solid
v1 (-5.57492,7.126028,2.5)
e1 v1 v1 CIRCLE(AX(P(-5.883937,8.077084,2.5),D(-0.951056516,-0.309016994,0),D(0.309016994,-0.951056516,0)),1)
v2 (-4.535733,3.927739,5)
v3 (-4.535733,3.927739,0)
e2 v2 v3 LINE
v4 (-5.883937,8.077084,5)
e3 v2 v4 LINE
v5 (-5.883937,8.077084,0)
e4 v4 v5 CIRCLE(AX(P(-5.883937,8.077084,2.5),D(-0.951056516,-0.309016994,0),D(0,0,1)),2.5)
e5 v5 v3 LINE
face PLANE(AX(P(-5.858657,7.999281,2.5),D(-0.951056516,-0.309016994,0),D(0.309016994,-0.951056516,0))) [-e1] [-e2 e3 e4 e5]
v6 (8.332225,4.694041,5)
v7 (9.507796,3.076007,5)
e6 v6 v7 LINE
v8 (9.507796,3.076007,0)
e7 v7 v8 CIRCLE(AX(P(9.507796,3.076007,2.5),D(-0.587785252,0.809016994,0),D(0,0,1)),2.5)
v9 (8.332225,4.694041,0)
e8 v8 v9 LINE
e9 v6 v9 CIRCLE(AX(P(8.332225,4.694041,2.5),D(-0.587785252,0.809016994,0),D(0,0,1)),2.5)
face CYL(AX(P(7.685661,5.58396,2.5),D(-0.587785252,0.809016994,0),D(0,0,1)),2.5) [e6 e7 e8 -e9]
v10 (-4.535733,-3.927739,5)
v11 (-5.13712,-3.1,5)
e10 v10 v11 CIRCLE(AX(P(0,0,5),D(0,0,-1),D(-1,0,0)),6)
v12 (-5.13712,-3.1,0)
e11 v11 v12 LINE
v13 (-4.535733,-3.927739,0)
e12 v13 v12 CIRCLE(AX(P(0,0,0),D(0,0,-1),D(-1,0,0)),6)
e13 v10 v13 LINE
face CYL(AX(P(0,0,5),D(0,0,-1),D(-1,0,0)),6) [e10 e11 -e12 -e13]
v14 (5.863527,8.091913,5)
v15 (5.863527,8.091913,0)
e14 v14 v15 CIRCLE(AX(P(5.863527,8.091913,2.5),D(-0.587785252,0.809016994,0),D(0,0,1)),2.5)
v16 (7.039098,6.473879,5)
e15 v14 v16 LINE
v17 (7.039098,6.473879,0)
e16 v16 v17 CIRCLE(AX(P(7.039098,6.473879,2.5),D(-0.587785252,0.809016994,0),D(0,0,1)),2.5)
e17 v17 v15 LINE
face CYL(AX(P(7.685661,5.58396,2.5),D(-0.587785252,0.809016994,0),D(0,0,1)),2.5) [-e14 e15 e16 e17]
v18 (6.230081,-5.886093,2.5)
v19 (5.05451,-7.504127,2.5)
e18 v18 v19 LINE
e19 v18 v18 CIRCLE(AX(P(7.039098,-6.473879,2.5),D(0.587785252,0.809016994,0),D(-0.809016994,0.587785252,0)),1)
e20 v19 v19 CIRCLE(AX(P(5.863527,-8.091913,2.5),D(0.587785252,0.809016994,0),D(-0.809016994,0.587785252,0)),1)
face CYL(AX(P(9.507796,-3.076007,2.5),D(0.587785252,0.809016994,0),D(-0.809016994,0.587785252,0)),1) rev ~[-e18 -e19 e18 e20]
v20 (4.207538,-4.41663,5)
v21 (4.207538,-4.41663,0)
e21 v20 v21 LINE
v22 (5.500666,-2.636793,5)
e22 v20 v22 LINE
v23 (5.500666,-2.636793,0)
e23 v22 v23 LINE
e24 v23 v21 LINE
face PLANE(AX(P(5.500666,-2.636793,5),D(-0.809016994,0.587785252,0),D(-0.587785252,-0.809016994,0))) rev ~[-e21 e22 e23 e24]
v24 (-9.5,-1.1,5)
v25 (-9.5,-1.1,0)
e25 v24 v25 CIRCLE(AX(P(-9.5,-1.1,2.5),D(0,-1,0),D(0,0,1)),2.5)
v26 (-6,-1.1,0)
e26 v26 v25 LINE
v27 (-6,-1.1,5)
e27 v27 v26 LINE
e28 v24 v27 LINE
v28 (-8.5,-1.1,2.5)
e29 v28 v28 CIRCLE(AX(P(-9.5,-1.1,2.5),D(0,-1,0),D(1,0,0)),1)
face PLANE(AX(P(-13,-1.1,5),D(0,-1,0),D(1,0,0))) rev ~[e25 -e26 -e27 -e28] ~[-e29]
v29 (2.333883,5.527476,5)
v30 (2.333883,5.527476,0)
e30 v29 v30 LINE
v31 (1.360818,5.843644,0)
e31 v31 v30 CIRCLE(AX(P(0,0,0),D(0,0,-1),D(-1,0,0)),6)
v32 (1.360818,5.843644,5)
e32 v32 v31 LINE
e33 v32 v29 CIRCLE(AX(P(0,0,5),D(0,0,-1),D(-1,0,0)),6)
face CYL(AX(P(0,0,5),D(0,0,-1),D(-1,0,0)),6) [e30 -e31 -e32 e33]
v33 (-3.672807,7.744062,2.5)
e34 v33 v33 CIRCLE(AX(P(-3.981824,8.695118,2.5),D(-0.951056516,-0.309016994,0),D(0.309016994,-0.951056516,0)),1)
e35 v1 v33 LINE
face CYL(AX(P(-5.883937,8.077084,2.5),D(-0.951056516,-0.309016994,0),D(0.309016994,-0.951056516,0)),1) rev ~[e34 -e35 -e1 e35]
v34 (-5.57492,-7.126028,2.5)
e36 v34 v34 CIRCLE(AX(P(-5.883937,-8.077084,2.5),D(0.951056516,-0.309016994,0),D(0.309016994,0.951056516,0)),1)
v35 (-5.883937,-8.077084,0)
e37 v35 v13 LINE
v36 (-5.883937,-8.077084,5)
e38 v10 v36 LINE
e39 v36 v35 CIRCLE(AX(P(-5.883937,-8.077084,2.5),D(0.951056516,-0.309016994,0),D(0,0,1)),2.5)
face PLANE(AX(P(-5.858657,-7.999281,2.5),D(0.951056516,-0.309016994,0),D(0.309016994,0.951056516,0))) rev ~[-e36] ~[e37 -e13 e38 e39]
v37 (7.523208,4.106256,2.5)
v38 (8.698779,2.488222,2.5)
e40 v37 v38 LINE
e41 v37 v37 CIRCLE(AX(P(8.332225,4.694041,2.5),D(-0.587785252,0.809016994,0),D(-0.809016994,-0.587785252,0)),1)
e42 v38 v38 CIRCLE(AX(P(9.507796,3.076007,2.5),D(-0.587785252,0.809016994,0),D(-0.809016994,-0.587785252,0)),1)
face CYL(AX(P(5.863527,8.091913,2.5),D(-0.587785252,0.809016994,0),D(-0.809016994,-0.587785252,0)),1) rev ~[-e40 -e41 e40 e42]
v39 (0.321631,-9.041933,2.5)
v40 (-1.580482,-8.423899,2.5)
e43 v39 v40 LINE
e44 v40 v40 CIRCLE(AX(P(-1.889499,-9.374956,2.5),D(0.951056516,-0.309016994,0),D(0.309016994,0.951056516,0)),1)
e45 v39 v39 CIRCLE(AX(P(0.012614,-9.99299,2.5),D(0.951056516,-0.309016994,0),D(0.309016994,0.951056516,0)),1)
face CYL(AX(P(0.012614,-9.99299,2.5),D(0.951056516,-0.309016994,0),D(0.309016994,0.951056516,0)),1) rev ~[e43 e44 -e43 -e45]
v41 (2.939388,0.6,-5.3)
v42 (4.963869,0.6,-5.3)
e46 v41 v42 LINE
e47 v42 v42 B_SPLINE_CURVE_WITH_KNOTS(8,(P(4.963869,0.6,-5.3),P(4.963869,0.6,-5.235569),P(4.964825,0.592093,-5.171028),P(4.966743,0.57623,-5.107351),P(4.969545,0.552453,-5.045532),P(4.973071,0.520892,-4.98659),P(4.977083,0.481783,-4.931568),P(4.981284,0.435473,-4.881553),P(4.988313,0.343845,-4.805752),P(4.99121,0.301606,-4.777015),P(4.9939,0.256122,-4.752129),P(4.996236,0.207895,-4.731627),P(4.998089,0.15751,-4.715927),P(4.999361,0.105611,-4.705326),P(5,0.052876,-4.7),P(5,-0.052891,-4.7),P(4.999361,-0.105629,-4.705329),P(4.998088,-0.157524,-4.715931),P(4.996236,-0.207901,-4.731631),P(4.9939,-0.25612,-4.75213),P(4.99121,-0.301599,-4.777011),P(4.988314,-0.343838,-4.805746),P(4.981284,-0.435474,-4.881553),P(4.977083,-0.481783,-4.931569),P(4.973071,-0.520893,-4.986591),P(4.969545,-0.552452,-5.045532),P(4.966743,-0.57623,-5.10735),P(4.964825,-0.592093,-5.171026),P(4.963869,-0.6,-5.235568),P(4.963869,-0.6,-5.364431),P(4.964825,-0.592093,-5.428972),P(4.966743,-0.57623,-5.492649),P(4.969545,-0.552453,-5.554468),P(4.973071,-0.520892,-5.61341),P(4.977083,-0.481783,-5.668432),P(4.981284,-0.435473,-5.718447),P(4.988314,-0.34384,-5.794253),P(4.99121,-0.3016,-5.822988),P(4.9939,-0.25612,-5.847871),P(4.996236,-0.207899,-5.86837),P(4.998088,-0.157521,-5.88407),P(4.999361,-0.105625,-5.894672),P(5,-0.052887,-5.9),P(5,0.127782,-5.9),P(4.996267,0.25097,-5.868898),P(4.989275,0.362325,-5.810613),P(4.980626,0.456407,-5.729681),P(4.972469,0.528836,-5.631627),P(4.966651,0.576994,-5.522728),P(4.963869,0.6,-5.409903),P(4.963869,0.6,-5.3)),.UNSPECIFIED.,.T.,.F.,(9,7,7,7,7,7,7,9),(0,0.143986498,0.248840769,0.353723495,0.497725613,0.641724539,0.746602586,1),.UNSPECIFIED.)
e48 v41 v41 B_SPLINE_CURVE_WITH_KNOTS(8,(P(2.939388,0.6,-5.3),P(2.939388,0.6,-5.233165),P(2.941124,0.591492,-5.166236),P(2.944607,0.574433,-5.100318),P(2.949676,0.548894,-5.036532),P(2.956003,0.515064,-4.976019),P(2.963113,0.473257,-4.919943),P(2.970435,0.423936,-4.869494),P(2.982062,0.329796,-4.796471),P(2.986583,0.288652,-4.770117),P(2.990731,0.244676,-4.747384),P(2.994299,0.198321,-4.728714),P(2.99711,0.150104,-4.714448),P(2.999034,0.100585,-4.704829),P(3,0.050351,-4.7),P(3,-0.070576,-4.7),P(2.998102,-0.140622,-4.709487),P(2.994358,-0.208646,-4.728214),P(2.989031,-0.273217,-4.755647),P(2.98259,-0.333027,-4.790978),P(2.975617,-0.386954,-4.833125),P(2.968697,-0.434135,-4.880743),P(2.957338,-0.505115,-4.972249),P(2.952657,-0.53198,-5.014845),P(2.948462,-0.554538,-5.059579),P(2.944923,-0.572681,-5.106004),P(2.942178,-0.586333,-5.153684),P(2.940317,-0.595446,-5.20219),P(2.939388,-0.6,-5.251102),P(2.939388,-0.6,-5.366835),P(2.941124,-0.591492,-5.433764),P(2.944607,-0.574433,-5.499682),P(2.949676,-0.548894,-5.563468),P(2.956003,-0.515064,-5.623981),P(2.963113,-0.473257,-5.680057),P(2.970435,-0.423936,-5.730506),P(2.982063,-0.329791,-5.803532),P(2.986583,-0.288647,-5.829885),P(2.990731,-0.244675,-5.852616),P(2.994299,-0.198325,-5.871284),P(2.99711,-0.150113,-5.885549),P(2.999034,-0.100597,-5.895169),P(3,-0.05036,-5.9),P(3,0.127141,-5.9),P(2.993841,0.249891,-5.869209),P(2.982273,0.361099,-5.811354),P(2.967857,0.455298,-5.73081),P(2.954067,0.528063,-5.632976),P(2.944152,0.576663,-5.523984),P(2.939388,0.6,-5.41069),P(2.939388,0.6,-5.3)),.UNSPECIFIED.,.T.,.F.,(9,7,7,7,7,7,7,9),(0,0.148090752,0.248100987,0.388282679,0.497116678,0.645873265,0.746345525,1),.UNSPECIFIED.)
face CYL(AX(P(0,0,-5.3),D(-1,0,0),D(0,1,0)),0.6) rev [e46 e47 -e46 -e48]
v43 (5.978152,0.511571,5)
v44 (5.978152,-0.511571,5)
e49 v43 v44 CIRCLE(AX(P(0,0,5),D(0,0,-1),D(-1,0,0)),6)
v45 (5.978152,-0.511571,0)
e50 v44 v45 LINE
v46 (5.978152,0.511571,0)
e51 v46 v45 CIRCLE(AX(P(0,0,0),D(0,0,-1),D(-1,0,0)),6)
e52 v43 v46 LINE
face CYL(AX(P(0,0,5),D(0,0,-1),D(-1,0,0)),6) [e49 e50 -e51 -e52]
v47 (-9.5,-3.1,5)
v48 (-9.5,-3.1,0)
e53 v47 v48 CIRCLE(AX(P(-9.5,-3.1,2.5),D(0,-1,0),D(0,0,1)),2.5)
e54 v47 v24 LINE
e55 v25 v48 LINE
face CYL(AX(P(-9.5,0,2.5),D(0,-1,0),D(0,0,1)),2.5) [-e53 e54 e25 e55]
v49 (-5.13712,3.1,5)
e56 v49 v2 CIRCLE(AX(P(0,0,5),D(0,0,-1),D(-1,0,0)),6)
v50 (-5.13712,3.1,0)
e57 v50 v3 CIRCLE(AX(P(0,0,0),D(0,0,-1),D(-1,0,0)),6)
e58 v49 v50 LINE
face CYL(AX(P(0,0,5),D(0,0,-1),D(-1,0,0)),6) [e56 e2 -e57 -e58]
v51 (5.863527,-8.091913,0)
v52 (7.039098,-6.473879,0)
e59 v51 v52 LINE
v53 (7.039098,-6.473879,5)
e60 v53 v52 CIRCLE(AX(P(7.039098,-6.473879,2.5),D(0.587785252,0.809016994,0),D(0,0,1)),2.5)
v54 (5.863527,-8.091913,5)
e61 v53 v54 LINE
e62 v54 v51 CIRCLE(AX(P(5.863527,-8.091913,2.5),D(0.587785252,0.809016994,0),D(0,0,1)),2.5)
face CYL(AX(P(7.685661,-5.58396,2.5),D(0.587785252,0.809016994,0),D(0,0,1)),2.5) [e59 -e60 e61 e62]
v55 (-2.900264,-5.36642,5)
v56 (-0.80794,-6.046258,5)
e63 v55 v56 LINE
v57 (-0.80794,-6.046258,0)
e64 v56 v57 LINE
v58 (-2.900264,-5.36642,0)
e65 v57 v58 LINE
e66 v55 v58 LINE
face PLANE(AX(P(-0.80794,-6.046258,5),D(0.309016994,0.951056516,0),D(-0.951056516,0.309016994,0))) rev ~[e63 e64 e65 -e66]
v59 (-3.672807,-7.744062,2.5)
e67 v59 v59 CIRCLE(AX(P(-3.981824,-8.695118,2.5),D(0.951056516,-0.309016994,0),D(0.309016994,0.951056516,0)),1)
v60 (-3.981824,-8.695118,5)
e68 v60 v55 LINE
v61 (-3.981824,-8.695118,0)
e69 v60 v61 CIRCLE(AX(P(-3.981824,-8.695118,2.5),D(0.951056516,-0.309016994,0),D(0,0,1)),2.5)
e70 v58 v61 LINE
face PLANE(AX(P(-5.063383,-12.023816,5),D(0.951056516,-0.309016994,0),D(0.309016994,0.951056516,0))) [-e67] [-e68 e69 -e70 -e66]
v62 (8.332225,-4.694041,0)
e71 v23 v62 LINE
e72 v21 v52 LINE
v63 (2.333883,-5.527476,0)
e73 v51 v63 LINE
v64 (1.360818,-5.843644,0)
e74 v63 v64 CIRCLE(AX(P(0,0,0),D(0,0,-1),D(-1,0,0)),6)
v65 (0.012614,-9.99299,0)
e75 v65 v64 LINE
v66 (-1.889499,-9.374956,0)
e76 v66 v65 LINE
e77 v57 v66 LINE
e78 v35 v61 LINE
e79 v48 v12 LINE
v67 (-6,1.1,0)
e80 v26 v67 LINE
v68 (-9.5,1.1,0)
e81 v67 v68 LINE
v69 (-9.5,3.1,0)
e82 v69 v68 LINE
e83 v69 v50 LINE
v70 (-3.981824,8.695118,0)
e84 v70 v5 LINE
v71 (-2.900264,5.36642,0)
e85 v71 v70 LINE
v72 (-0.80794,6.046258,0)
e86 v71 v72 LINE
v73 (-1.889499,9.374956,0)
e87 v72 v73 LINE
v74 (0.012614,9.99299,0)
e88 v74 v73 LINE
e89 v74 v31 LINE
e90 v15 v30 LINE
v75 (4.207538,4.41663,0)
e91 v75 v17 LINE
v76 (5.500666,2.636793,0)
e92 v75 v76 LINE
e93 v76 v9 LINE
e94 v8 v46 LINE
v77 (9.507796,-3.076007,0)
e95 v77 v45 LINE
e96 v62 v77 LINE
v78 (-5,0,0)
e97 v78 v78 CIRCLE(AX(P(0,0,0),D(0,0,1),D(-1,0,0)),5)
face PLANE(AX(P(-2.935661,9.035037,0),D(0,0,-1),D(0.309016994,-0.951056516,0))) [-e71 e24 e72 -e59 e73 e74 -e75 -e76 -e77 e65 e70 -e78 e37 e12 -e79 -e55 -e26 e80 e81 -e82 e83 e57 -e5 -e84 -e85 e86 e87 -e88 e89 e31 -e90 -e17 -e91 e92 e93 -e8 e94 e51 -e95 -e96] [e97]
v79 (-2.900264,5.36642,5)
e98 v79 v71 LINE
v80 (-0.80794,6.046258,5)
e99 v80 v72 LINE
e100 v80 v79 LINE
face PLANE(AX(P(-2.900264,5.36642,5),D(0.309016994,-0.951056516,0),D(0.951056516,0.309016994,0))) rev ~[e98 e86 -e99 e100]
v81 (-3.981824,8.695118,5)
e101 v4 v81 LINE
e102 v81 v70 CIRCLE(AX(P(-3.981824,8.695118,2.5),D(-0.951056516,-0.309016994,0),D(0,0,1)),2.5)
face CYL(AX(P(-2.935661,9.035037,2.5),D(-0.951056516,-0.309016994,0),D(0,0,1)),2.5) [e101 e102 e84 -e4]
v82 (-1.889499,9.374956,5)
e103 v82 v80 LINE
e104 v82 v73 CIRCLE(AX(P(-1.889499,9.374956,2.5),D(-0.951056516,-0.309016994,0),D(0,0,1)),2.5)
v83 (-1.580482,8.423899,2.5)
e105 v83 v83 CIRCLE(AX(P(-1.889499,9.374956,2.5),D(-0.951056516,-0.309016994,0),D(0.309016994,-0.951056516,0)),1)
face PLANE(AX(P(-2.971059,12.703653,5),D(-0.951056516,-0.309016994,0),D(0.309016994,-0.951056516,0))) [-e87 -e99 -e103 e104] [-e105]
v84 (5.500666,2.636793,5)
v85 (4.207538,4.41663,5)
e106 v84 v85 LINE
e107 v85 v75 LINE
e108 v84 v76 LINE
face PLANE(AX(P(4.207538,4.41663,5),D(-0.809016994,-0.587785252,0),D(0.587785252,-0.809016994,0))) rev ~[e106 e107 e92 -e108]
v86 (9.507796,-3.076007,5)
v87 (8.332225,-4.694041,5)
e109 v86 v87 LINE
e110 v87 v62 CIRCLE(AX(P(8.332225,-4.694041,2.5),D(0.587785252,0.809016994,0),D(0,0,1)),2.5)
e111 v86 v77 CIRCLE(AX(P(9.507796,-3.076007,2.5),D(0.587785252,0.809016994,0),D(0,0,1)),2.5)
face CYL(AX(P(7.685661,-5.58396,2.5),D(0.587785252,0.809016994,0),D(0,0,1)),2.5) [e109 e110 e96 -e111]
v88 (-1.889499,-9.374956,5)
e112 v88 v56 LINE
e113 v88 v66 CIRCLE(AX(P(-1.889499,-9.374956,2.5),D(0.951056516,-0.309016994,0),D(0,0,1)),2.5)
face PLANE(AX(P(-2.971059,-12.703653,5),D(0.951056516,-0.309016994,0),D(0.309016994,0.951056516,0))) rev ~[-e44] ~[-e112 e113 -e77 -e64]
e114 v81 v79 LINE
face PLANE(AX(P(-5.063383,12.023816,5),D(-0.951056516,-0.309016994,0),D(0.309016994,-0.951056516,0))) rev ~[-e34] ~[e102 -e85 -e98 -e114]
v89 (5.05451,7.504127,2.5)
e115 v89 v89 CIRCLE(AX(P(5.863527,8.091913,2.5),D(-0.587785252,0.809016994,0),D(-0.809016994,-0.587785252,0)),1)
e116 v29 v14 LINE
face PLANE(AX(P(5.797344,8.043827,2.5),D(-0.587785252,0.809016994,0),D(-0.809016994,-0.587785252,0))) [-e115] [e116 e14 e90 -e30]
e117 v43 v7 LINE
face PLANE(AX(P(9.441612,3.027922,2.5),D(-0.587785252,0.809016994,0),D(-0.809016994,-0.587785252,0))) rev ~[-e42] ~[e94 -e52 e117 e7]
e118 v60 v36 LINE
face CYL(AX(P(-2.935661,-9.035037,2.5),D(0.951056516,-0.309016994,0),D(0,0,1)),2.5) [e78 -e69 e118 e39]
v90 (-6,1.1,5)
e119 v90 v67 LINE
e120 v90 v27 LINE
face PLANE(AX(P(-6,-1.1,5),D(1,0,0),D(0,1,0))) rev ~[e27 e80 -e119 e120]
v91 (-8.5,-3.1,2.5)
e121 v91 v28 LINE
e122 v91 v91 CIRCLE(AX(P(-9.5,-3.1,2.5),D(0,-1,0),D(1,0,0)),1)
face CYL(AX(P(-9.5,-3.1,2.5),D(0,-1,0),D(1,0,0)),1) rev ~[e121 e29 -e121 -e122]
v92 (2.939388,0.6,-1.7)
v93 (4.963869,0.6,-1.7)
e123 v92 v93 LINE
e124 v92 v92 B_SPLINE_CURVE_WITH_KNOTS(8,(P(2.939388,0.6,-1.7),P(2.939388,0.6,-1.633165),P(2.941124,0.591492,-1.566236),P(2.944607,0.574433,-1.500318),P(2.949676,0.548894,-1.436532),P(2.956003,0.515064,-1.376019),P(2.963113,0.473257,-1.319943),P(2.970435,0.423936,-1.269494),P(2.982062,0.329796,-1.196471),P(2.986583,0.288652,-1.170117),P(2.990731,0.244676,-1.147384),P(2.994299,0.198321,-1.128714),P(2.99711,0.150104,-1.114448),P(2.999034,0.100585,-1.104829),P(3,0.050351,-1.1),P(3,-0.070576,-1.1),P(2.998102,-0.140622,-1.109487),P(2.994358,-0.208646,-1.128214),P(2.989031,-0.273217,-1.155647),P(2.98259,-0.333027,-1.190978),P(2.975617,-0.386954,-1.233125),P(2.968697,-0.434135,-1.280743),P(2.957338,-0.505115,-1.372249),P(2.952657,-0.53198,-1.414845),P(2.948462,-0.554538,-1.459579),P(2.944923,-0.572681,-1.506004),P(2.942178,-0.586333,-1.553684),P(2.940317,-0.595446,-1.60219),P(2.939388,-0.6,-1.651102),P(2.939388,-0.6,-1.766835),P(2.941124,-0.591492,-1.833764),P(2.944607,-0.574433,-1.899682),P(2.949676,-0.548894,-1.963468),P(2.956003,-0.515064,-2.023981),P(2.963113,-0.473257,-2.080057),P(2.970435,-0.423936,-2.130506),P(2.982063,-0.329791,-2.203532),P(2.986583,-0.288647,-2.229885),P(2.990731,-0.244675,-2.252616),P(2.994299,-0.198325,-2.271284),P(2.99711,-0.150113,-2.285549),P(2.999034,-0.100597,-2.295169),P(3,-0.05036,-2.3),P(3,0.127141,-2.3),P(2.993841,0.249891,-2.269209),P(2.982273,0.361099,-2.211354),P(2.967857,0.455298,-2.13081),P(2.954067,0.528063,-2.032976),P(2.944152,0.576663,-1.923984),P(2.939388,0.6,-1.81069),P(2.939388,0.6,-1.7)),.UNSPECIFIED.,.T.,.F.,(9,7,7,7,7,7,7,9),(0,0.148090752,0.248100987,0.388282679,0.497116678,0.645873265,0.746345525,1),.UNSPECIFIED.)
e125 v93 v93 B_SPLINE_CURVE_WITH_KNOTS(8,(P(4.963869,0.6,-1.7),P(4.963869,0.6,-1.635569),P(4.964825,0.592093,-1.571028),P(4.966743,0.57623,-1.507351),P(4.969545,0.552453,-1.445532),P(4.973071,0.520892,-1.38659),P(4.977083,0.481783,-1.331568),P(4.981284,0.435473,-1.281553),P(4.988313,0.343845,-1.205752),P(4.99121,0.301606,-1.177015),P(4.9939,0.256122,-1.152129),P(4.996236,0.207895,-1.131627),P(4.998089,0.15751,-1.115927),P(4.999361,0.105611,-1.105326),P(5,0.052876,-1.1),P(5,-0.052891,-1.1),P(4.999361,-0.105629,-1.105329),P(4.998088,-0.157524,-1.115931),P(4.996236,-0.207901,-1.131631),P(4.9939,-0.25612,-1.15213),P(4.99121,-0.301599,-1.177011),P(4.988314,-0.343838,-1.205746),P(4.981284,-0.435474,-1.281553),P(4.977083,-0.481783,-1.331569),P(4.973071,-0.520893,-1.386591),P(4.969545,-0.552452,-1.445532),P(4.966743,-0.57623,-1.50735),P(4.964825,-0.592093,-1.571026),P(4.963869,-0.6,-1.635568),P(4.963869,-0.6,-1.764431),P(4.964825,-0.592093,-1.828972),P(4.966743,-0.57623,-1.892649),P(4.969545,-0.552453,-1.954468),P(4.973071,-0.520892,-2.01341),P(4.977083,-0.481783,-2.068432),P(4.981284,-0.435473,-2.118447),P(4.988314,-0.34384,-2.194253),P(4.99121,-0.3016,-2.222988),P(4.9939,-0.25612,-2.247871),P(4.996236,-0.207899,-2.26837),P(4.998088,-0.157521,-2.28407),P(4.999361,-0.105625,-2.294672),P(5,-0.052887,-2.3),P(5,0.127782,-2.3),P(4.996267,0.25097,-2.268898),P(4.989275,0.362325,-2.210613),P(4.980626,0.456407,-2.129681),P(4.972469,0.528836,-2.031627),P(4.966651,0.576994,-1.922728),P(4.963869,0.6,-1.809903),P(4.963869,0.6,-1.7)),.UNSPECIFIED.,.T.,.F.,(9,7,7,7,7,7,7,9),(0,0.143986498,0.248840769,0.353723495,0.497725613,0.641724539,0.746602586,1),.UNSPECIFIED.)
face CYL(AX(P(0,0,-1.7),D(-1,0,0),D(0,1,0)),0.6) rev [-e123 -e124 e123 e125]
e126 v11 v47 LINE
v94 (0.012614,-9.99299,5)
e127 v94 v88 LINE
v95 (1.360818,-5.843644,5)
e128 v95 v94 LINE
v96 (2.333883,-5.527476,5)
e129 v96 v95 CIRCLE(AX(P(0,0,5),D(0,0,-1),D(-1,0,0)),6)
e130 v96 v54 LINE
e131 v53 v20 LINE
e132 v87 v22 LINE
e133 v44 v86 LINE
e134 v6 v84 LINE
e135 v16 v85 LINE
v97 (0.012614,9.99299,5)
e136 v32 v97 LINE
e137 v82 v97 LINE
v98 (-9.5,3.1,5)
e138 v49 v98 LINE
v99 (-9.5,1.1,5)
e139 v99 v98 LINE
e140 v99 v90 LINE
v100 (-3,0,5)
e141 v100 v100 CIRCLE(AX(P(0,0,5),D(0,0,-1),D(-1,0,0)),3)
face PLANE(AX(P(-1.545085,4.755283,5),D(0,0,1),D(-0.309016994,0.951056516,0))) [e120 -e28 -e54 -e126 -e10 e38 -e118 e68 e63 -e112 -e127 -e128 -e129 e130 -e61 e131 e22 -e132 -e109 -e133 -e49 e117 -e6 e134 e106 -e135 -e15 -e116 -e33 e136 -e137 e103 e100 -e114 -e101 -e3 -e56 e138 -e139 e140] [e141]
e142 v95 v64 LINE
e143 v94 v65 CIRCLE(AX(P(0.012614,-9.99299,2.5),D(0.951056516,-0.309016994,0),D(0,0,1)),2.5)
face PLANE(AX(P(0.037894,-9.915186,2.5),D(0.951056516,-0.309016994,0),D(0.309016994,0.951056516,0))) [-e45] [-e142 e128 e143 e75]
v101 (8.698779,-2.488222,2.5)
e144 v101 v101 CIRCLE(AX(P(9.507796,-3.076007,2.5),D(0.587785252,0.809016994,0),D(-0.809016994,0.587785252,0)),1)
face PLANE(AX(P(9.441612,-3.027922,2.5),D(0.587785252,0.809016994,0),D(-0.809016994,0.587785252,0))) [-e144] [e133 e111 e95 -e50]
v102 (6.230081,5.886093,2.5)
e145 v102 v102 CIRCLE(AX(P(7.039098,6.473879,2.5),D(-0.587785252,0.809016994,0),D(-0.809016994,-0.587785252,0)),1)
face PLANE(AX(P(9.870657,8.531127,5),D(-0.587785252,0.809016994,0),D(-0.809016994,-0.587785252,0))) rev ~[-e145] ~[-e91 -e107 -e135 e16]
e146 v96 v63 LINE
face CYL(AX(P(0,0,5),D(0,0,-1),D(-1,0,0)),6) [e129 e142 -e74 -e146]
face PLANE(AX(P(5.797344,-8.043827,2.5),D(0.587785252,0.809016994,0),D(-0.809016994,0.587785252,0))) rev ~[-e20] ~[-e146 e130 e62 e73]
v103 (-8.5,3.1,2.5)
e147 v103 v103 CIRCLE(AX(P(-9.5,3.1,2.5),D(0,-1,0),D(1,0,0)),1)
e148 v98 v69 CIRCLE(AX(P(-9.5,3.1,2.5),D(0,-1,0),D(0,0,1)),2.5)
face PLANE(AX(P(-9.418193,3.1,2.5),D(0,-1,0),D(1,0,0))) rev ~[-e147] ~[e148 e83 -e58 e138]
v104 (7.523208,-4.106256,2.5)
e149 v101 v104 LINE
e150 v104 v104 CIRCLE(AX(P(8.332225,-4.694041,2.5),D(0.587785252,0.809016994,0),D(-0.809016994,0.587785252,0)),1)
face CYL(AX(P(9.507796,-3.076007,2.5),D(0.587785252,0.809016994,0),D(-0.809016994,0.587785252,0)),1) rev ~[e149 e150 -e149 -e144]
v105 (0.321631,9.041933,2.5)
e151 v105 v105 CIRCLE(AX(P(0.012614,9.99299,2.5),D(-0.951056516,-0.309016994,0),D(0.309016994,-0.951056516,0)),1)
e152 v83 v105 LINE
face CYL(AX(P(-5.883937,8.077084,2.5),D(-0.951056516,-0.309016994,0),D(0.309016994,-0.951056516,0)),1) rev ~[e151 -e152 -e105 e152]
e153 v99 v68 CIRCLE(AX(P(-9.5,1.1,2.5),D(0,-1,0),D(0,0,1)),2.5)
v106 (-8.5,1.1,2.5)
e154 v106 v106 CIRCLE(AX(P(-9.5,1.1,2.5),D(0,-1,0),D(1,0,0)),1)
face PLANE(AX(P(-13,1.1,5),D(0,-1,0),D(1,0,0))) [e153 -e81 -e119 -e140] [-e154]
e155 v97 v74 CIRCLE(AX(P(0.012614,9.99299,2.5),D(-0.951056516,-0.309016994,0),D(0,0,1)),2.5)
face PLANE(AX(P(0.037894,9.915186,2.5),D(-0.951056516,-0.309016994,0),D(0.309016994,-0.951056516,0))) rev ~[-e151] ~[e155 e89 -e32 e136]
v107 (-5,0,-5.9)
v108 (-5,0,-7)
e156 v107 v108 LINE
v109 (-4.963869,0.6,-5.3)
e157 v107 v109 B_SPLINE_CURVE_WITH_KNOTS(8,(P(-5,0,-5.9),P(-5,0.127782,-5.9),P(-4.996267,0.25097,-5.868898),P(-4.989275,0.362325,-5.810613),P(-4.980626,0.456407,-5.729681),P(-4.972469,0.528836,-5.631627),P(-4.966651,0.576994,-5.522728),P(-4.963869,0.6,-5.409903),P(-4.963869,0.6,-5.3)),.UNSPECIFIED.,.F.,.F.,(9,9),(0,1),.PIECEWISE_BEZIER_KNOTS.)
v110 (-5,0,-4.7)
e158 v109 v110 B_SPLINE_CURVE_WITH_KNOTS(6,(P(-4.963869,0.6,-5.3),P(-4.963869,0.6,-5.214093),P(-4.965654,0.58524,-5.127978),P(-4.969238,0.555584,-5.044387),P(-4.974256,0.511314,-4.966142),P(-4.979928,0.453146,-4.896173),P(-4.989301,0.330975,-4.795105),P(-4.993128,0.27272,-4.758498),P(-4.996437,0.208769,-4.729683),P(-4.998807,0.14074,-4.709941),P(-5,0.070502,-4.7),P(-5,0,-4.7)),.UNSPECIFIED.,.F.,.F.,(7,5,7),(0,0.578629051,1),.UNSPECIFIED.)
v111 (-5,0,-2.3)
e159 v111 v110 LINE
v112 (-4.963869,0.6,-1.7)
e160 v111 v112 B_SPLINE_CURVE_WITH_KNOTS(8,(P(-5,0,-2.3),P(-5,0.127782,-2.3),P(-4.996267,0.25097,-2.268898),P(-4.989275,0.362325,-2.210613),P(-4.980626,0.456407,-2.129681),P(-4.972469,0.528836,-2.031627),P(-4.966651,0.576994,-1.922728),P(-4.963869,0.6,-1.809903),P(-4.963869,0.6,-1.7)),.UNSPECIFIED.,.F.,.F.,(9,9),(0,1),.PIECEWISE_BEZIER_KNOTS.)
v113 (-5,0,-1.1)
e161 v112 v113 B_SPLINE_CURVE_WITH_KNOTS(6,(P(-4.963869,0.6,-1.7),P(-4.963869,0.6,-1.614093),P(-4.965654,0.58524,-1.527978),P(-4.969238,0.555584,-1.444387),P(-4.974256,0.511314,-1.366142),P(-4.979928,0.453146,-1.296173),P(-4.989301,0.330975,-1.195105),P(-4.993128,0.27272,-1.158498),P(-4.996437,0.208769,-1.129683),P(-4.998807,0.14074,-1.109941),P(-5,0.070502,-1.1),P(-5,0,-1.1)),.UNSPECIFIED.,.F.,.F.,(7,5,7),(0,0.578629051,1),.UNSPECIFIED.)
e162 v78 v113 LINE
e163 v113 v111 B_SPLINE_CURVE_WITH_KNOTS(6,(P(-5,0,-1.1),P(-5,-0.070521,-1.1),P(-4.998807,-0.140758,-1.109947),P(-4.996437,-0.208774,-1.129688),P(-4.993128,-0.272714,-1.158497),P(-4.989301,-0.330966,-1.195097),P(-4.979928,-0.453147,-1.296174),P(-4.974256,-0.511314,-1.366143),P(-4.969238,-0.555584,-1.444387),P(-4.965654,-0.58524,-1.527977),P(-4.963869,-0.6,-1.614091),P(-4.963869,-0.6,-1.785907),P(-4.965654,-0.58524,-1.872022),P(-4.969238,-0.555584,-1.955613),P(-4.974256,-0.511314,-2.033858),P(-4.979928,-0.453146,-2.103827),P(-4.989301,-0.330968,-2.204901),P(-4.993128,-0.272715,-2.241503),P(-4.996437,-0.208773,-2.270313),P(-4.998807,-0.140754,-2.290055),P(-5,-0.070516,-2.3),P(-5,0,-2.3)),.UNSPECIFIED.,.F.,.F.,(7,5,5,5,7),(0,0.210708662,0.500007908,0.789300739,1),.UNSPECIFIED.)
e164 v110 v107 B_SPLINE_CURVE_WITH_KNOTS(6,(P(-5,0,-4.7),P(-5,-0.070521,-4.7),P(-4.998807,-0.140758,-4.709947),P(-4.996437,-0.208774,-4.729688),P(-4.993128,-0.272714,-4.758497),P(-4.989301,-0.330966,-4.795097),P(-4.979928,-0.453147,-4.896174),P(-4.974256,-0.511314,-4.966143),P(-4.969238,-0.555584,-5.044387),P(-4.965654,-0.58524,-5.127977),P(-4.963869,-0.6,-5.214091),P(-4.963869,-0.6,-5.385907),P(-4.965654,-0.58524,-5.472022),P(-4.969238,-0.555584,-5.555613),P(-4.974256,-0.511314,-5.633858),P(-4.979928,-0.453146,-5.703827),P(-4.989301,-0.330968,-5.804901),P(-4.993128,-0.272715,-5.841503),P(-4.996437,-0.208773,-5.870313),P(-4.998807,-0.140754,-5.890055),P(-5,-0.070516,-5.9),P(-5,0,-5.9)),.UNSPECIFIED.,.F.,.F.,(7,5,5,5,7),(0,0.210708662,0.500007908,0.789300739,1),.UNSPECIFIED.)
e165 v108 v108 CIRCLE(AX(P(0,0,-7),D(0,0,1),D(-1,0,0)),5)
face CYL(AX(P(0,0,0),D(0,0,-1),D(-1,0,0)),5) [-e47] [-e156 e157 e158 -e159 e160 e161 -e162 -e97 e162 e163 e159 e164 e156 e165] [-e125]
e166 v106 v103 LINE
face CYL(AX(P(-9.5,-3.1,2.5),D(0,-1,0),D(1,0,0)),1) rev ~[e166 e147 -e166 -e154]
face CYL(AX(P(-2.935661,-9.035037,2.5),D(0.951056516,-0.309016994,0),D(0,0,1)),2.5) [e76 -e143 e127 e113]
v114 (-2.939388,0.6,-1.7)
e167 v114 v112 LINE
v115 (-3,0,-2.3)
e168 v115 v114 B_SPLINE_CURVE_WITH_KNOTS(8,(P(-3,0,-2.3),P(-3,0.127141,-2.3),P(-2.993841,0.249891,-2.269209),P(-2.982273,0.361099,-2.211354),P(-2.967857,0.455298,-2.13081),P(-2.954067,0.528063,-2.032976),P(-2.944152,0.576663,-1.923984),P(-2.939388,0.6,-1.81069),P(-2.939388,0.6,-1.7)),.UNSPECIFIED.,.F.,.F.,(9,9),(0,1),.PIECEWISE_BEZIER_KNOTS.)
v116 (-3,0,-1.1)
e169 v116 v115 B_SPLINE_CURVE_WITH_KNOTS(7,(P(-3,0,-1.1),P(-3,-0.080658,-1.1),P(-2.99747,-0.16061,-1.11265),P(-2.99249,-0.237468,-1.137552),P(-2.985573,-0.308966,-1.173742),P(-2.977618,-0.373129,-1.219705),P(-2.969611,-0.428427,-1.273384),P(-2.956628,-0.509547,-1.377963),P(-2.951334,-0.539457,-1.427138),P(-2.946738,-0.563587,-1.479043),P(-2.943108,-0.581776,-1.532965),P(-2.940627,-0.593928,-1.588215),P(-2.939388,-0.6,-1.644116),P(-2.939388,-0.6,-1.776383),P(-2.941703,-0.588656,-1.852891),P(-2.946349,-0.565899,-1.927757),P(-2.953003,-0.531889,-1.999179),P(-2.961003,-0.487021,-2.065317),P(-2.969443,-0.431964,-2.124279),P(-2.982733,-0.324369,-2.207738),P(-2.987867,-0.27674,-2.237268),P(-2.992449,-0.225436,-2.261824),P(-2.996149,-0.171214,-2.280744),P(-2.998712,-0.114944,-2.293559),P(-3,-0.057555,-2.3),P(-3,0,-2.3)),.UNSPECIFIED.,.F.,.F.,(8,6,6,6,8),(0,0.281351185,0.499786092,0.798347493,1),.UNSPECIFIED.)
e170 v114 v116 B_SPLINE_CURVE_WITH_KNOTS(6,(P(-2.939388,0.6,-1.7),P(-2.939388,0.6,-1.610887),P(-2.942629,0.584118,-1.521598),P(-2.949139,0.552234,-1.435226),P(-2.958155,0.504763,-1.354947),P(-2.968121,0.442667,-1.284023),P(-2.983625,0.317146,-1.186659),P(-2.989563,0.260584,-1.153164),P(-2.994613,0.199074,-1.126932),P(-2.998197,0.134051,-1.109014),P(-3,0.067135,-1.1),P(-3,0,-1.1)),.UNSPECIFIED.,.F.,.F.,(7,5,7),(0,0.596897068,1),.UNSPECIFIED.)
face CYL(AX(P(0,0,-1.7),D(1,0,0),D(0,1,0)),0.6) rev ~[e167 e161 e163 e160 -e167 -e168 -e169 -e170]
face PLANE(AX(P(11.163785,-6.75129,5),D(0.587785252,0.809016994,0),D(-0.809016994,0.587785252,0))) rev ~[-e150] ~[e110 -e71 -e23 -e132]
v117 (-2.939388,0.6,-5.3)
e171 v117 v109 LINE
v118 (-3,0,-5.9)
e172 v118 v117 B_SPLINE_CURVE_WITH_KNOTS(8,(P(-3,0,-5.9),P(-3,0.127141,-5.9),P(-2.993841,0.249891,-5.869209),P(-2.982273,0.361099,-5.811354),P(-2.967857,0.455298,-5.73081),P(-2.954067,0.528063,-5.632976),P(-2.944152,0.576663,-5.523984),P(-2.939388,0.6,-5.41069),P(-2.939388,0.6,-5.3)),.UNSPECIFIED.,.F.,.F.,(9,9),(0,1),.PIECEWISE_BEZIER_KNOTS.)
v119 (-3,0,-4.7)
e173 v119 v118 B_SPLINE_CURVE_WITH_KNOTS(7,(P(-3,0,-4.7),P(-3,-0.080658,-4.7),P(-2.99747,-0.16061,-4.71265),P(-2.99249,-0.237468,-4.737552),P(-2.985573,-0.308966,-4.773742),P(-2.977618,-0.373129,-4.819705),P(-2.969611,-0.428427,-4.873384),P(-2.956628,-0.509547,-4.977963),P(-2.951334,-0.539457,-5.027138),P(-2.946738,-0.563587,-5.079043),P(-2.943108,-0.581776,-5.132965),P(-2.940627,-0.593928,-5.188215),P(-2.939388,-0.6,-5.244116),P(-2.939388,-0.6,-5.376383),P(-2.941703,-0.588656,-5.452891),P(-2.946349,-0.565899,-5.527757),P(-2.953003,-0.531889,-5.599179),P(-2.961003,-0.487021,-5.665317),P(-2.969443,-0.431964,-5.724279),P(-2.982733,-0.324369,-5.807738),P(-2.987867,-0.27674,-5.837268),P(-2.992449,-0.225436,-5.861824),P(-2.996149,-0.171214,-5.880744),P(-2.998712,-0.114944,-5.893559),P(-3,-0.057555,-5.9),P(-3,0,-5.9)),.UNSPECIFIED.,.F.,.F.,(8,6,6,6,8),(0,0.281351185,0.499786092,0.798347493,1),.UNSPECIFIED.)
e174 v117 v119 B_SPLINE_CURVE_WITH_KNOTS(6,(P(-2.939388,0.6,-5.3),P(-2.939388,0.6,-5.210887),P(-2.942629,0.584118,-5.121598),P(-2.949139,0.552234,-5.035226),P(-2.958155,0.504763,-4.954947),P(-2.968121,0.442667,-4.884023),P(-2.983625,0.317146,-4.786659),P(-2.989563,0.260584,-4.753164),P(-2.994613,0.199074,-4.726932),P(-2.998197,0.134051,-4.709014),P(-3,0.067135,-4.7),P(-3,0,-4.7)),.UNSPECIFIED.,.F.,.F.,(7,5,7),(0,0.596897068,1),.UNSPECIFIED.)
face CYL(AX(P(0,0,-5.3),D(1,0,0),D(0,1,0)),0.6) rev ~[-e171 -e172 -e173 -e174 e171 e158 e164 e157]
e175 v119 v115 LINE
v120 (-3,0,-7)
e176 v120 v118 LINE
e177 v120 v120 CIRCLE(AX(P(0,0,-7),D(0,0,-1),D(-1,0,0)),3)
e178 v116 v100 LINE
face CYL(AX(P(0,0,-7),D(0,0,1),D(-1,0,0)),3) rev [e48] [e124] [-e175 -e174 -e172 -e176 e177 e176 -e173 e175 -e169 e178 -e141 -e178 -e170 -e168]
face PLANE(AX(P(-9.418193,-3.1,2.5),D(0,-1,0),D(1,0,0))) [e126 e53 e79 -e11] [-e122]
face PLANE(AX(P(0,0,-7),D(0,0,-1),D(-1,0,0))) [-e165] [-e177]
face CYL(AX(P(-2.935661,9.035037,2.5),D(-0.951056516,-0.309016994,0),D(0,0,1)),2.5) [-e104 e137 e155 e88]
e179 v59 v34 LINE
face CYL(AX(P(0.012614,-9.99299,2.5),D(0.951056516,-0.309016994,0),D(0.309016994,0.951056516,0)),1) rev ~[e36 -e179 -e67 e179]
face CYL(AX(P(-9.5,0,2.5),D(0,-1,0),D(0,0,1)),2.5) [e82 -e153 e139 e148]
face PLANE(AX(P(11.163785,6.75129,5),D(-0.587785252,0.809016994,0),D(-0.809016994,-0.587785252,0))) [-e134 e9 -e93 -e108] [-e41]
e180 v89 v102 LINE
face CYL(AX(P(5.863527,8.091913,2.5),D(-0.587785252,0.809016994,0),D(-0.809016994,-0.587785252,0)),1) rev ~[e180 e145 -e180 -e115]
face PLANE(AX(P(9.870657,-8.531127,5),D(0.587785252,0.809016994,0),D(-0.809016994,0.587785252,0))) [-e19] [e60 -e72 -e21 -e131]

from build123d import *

# Parameters (mm, degrees)
F3_DEPTH       = 3.1
F4_R           = 1
F5_DEPTH       = 9.101
F6_W           = 7
F6_H           = 2.2
F7_DEPTH       = 25
F8_COUNT       = 5
F9_R           = 0.6
F10_DEPTH      = 12.001
F10_DEPTH_BACK = 11.5313382146


with BuildPart() as f1:
    # F0 (on Front) → F1 (revolve)
    with BuildSketch(Plane.XZ):
        Polygon((-3, -7), (-3, 5), (-6, 5), (-6, 0), (-5, 0), (-5, -7), align=None)
    revolve(axis=Axis((0, 0, -4.9457359128), (0, 0, -1)))

    # F2 (on Front) → F3 (join, symmetric)
    with BuildSketch(Plane.XZ):
        with BuildLine():
            ThreePointArc((-7, 2.5), (-7.732233047, 4.267766953), (-9.5, 5))
            ThreePointArc((-9.5, 5), (-12, 2.5), (-9.5, 0))
            ThreePointArc((-9.5, 0), (-7.732233047, 0.732233047), (-7, 2.5))
        make_face()
        with BuildLine():
            Line((-5, 5), (-9.5, 5))
            ThreePointArc((-9.5, 5), (-7.732233047, 4.267766953), (-7, 2.5))
            ThreePointArc((-7, 2.5), (-7.732233047, 0.732233047), (-9.5, 0))
            Line((-9.5, 0), (-5, 0))
            Line((-5, 0), (-5, 5))
        make_face()
    extrude(amount=F3_DEPTH, both=True)

    # F4 (on face) → F5 (cut, through all)
    with BuildSketch(Plane.XZ.offset(3.1)):
        with Locations((-9.5, 2.5)):
            Circle(F4_R)
    extrude(amount=-F5_DEPTH, mode=Mode.SUBTRACT)

    # F6 (on face) → F7 (cut)
    with BuildSketch(Plane.XY.offset(5)):
        with Locations((-9.5, 0)):
            Rectangle(F6_W, F6_H)
    extrude(amount=-F7_DEPTH, mode=Mode.SUBTRACT)

    # F8: F1 ×5 about axis
    f8_axis = Axis((0, 0, -7), (0, 0, 1))


with BuildPart() as f1_1:
    add(f1.part)
    for i in range(1, F8_COUNT):
        add(f1.part.rotate(f8_axis, i * 360 / F8_COUNT))

    # F9 (on Right) → F10 (cut, two sides)
    with BuildSketch(Plane.YZ) as f10_sk:
        with Locations((0, -1.7)):
            Circle(F9_R)
        with Locations((0, -5.3)):
            Circle(F9_R)
    extrude(amount=-F10_DEPTH, mode=Mode.SUBTRACT)
    extrude(f10_sk.sketch, amount=F10_DEPTH_BACK, mode=Mode.SUBTRACT)


solid = f1_1.part
